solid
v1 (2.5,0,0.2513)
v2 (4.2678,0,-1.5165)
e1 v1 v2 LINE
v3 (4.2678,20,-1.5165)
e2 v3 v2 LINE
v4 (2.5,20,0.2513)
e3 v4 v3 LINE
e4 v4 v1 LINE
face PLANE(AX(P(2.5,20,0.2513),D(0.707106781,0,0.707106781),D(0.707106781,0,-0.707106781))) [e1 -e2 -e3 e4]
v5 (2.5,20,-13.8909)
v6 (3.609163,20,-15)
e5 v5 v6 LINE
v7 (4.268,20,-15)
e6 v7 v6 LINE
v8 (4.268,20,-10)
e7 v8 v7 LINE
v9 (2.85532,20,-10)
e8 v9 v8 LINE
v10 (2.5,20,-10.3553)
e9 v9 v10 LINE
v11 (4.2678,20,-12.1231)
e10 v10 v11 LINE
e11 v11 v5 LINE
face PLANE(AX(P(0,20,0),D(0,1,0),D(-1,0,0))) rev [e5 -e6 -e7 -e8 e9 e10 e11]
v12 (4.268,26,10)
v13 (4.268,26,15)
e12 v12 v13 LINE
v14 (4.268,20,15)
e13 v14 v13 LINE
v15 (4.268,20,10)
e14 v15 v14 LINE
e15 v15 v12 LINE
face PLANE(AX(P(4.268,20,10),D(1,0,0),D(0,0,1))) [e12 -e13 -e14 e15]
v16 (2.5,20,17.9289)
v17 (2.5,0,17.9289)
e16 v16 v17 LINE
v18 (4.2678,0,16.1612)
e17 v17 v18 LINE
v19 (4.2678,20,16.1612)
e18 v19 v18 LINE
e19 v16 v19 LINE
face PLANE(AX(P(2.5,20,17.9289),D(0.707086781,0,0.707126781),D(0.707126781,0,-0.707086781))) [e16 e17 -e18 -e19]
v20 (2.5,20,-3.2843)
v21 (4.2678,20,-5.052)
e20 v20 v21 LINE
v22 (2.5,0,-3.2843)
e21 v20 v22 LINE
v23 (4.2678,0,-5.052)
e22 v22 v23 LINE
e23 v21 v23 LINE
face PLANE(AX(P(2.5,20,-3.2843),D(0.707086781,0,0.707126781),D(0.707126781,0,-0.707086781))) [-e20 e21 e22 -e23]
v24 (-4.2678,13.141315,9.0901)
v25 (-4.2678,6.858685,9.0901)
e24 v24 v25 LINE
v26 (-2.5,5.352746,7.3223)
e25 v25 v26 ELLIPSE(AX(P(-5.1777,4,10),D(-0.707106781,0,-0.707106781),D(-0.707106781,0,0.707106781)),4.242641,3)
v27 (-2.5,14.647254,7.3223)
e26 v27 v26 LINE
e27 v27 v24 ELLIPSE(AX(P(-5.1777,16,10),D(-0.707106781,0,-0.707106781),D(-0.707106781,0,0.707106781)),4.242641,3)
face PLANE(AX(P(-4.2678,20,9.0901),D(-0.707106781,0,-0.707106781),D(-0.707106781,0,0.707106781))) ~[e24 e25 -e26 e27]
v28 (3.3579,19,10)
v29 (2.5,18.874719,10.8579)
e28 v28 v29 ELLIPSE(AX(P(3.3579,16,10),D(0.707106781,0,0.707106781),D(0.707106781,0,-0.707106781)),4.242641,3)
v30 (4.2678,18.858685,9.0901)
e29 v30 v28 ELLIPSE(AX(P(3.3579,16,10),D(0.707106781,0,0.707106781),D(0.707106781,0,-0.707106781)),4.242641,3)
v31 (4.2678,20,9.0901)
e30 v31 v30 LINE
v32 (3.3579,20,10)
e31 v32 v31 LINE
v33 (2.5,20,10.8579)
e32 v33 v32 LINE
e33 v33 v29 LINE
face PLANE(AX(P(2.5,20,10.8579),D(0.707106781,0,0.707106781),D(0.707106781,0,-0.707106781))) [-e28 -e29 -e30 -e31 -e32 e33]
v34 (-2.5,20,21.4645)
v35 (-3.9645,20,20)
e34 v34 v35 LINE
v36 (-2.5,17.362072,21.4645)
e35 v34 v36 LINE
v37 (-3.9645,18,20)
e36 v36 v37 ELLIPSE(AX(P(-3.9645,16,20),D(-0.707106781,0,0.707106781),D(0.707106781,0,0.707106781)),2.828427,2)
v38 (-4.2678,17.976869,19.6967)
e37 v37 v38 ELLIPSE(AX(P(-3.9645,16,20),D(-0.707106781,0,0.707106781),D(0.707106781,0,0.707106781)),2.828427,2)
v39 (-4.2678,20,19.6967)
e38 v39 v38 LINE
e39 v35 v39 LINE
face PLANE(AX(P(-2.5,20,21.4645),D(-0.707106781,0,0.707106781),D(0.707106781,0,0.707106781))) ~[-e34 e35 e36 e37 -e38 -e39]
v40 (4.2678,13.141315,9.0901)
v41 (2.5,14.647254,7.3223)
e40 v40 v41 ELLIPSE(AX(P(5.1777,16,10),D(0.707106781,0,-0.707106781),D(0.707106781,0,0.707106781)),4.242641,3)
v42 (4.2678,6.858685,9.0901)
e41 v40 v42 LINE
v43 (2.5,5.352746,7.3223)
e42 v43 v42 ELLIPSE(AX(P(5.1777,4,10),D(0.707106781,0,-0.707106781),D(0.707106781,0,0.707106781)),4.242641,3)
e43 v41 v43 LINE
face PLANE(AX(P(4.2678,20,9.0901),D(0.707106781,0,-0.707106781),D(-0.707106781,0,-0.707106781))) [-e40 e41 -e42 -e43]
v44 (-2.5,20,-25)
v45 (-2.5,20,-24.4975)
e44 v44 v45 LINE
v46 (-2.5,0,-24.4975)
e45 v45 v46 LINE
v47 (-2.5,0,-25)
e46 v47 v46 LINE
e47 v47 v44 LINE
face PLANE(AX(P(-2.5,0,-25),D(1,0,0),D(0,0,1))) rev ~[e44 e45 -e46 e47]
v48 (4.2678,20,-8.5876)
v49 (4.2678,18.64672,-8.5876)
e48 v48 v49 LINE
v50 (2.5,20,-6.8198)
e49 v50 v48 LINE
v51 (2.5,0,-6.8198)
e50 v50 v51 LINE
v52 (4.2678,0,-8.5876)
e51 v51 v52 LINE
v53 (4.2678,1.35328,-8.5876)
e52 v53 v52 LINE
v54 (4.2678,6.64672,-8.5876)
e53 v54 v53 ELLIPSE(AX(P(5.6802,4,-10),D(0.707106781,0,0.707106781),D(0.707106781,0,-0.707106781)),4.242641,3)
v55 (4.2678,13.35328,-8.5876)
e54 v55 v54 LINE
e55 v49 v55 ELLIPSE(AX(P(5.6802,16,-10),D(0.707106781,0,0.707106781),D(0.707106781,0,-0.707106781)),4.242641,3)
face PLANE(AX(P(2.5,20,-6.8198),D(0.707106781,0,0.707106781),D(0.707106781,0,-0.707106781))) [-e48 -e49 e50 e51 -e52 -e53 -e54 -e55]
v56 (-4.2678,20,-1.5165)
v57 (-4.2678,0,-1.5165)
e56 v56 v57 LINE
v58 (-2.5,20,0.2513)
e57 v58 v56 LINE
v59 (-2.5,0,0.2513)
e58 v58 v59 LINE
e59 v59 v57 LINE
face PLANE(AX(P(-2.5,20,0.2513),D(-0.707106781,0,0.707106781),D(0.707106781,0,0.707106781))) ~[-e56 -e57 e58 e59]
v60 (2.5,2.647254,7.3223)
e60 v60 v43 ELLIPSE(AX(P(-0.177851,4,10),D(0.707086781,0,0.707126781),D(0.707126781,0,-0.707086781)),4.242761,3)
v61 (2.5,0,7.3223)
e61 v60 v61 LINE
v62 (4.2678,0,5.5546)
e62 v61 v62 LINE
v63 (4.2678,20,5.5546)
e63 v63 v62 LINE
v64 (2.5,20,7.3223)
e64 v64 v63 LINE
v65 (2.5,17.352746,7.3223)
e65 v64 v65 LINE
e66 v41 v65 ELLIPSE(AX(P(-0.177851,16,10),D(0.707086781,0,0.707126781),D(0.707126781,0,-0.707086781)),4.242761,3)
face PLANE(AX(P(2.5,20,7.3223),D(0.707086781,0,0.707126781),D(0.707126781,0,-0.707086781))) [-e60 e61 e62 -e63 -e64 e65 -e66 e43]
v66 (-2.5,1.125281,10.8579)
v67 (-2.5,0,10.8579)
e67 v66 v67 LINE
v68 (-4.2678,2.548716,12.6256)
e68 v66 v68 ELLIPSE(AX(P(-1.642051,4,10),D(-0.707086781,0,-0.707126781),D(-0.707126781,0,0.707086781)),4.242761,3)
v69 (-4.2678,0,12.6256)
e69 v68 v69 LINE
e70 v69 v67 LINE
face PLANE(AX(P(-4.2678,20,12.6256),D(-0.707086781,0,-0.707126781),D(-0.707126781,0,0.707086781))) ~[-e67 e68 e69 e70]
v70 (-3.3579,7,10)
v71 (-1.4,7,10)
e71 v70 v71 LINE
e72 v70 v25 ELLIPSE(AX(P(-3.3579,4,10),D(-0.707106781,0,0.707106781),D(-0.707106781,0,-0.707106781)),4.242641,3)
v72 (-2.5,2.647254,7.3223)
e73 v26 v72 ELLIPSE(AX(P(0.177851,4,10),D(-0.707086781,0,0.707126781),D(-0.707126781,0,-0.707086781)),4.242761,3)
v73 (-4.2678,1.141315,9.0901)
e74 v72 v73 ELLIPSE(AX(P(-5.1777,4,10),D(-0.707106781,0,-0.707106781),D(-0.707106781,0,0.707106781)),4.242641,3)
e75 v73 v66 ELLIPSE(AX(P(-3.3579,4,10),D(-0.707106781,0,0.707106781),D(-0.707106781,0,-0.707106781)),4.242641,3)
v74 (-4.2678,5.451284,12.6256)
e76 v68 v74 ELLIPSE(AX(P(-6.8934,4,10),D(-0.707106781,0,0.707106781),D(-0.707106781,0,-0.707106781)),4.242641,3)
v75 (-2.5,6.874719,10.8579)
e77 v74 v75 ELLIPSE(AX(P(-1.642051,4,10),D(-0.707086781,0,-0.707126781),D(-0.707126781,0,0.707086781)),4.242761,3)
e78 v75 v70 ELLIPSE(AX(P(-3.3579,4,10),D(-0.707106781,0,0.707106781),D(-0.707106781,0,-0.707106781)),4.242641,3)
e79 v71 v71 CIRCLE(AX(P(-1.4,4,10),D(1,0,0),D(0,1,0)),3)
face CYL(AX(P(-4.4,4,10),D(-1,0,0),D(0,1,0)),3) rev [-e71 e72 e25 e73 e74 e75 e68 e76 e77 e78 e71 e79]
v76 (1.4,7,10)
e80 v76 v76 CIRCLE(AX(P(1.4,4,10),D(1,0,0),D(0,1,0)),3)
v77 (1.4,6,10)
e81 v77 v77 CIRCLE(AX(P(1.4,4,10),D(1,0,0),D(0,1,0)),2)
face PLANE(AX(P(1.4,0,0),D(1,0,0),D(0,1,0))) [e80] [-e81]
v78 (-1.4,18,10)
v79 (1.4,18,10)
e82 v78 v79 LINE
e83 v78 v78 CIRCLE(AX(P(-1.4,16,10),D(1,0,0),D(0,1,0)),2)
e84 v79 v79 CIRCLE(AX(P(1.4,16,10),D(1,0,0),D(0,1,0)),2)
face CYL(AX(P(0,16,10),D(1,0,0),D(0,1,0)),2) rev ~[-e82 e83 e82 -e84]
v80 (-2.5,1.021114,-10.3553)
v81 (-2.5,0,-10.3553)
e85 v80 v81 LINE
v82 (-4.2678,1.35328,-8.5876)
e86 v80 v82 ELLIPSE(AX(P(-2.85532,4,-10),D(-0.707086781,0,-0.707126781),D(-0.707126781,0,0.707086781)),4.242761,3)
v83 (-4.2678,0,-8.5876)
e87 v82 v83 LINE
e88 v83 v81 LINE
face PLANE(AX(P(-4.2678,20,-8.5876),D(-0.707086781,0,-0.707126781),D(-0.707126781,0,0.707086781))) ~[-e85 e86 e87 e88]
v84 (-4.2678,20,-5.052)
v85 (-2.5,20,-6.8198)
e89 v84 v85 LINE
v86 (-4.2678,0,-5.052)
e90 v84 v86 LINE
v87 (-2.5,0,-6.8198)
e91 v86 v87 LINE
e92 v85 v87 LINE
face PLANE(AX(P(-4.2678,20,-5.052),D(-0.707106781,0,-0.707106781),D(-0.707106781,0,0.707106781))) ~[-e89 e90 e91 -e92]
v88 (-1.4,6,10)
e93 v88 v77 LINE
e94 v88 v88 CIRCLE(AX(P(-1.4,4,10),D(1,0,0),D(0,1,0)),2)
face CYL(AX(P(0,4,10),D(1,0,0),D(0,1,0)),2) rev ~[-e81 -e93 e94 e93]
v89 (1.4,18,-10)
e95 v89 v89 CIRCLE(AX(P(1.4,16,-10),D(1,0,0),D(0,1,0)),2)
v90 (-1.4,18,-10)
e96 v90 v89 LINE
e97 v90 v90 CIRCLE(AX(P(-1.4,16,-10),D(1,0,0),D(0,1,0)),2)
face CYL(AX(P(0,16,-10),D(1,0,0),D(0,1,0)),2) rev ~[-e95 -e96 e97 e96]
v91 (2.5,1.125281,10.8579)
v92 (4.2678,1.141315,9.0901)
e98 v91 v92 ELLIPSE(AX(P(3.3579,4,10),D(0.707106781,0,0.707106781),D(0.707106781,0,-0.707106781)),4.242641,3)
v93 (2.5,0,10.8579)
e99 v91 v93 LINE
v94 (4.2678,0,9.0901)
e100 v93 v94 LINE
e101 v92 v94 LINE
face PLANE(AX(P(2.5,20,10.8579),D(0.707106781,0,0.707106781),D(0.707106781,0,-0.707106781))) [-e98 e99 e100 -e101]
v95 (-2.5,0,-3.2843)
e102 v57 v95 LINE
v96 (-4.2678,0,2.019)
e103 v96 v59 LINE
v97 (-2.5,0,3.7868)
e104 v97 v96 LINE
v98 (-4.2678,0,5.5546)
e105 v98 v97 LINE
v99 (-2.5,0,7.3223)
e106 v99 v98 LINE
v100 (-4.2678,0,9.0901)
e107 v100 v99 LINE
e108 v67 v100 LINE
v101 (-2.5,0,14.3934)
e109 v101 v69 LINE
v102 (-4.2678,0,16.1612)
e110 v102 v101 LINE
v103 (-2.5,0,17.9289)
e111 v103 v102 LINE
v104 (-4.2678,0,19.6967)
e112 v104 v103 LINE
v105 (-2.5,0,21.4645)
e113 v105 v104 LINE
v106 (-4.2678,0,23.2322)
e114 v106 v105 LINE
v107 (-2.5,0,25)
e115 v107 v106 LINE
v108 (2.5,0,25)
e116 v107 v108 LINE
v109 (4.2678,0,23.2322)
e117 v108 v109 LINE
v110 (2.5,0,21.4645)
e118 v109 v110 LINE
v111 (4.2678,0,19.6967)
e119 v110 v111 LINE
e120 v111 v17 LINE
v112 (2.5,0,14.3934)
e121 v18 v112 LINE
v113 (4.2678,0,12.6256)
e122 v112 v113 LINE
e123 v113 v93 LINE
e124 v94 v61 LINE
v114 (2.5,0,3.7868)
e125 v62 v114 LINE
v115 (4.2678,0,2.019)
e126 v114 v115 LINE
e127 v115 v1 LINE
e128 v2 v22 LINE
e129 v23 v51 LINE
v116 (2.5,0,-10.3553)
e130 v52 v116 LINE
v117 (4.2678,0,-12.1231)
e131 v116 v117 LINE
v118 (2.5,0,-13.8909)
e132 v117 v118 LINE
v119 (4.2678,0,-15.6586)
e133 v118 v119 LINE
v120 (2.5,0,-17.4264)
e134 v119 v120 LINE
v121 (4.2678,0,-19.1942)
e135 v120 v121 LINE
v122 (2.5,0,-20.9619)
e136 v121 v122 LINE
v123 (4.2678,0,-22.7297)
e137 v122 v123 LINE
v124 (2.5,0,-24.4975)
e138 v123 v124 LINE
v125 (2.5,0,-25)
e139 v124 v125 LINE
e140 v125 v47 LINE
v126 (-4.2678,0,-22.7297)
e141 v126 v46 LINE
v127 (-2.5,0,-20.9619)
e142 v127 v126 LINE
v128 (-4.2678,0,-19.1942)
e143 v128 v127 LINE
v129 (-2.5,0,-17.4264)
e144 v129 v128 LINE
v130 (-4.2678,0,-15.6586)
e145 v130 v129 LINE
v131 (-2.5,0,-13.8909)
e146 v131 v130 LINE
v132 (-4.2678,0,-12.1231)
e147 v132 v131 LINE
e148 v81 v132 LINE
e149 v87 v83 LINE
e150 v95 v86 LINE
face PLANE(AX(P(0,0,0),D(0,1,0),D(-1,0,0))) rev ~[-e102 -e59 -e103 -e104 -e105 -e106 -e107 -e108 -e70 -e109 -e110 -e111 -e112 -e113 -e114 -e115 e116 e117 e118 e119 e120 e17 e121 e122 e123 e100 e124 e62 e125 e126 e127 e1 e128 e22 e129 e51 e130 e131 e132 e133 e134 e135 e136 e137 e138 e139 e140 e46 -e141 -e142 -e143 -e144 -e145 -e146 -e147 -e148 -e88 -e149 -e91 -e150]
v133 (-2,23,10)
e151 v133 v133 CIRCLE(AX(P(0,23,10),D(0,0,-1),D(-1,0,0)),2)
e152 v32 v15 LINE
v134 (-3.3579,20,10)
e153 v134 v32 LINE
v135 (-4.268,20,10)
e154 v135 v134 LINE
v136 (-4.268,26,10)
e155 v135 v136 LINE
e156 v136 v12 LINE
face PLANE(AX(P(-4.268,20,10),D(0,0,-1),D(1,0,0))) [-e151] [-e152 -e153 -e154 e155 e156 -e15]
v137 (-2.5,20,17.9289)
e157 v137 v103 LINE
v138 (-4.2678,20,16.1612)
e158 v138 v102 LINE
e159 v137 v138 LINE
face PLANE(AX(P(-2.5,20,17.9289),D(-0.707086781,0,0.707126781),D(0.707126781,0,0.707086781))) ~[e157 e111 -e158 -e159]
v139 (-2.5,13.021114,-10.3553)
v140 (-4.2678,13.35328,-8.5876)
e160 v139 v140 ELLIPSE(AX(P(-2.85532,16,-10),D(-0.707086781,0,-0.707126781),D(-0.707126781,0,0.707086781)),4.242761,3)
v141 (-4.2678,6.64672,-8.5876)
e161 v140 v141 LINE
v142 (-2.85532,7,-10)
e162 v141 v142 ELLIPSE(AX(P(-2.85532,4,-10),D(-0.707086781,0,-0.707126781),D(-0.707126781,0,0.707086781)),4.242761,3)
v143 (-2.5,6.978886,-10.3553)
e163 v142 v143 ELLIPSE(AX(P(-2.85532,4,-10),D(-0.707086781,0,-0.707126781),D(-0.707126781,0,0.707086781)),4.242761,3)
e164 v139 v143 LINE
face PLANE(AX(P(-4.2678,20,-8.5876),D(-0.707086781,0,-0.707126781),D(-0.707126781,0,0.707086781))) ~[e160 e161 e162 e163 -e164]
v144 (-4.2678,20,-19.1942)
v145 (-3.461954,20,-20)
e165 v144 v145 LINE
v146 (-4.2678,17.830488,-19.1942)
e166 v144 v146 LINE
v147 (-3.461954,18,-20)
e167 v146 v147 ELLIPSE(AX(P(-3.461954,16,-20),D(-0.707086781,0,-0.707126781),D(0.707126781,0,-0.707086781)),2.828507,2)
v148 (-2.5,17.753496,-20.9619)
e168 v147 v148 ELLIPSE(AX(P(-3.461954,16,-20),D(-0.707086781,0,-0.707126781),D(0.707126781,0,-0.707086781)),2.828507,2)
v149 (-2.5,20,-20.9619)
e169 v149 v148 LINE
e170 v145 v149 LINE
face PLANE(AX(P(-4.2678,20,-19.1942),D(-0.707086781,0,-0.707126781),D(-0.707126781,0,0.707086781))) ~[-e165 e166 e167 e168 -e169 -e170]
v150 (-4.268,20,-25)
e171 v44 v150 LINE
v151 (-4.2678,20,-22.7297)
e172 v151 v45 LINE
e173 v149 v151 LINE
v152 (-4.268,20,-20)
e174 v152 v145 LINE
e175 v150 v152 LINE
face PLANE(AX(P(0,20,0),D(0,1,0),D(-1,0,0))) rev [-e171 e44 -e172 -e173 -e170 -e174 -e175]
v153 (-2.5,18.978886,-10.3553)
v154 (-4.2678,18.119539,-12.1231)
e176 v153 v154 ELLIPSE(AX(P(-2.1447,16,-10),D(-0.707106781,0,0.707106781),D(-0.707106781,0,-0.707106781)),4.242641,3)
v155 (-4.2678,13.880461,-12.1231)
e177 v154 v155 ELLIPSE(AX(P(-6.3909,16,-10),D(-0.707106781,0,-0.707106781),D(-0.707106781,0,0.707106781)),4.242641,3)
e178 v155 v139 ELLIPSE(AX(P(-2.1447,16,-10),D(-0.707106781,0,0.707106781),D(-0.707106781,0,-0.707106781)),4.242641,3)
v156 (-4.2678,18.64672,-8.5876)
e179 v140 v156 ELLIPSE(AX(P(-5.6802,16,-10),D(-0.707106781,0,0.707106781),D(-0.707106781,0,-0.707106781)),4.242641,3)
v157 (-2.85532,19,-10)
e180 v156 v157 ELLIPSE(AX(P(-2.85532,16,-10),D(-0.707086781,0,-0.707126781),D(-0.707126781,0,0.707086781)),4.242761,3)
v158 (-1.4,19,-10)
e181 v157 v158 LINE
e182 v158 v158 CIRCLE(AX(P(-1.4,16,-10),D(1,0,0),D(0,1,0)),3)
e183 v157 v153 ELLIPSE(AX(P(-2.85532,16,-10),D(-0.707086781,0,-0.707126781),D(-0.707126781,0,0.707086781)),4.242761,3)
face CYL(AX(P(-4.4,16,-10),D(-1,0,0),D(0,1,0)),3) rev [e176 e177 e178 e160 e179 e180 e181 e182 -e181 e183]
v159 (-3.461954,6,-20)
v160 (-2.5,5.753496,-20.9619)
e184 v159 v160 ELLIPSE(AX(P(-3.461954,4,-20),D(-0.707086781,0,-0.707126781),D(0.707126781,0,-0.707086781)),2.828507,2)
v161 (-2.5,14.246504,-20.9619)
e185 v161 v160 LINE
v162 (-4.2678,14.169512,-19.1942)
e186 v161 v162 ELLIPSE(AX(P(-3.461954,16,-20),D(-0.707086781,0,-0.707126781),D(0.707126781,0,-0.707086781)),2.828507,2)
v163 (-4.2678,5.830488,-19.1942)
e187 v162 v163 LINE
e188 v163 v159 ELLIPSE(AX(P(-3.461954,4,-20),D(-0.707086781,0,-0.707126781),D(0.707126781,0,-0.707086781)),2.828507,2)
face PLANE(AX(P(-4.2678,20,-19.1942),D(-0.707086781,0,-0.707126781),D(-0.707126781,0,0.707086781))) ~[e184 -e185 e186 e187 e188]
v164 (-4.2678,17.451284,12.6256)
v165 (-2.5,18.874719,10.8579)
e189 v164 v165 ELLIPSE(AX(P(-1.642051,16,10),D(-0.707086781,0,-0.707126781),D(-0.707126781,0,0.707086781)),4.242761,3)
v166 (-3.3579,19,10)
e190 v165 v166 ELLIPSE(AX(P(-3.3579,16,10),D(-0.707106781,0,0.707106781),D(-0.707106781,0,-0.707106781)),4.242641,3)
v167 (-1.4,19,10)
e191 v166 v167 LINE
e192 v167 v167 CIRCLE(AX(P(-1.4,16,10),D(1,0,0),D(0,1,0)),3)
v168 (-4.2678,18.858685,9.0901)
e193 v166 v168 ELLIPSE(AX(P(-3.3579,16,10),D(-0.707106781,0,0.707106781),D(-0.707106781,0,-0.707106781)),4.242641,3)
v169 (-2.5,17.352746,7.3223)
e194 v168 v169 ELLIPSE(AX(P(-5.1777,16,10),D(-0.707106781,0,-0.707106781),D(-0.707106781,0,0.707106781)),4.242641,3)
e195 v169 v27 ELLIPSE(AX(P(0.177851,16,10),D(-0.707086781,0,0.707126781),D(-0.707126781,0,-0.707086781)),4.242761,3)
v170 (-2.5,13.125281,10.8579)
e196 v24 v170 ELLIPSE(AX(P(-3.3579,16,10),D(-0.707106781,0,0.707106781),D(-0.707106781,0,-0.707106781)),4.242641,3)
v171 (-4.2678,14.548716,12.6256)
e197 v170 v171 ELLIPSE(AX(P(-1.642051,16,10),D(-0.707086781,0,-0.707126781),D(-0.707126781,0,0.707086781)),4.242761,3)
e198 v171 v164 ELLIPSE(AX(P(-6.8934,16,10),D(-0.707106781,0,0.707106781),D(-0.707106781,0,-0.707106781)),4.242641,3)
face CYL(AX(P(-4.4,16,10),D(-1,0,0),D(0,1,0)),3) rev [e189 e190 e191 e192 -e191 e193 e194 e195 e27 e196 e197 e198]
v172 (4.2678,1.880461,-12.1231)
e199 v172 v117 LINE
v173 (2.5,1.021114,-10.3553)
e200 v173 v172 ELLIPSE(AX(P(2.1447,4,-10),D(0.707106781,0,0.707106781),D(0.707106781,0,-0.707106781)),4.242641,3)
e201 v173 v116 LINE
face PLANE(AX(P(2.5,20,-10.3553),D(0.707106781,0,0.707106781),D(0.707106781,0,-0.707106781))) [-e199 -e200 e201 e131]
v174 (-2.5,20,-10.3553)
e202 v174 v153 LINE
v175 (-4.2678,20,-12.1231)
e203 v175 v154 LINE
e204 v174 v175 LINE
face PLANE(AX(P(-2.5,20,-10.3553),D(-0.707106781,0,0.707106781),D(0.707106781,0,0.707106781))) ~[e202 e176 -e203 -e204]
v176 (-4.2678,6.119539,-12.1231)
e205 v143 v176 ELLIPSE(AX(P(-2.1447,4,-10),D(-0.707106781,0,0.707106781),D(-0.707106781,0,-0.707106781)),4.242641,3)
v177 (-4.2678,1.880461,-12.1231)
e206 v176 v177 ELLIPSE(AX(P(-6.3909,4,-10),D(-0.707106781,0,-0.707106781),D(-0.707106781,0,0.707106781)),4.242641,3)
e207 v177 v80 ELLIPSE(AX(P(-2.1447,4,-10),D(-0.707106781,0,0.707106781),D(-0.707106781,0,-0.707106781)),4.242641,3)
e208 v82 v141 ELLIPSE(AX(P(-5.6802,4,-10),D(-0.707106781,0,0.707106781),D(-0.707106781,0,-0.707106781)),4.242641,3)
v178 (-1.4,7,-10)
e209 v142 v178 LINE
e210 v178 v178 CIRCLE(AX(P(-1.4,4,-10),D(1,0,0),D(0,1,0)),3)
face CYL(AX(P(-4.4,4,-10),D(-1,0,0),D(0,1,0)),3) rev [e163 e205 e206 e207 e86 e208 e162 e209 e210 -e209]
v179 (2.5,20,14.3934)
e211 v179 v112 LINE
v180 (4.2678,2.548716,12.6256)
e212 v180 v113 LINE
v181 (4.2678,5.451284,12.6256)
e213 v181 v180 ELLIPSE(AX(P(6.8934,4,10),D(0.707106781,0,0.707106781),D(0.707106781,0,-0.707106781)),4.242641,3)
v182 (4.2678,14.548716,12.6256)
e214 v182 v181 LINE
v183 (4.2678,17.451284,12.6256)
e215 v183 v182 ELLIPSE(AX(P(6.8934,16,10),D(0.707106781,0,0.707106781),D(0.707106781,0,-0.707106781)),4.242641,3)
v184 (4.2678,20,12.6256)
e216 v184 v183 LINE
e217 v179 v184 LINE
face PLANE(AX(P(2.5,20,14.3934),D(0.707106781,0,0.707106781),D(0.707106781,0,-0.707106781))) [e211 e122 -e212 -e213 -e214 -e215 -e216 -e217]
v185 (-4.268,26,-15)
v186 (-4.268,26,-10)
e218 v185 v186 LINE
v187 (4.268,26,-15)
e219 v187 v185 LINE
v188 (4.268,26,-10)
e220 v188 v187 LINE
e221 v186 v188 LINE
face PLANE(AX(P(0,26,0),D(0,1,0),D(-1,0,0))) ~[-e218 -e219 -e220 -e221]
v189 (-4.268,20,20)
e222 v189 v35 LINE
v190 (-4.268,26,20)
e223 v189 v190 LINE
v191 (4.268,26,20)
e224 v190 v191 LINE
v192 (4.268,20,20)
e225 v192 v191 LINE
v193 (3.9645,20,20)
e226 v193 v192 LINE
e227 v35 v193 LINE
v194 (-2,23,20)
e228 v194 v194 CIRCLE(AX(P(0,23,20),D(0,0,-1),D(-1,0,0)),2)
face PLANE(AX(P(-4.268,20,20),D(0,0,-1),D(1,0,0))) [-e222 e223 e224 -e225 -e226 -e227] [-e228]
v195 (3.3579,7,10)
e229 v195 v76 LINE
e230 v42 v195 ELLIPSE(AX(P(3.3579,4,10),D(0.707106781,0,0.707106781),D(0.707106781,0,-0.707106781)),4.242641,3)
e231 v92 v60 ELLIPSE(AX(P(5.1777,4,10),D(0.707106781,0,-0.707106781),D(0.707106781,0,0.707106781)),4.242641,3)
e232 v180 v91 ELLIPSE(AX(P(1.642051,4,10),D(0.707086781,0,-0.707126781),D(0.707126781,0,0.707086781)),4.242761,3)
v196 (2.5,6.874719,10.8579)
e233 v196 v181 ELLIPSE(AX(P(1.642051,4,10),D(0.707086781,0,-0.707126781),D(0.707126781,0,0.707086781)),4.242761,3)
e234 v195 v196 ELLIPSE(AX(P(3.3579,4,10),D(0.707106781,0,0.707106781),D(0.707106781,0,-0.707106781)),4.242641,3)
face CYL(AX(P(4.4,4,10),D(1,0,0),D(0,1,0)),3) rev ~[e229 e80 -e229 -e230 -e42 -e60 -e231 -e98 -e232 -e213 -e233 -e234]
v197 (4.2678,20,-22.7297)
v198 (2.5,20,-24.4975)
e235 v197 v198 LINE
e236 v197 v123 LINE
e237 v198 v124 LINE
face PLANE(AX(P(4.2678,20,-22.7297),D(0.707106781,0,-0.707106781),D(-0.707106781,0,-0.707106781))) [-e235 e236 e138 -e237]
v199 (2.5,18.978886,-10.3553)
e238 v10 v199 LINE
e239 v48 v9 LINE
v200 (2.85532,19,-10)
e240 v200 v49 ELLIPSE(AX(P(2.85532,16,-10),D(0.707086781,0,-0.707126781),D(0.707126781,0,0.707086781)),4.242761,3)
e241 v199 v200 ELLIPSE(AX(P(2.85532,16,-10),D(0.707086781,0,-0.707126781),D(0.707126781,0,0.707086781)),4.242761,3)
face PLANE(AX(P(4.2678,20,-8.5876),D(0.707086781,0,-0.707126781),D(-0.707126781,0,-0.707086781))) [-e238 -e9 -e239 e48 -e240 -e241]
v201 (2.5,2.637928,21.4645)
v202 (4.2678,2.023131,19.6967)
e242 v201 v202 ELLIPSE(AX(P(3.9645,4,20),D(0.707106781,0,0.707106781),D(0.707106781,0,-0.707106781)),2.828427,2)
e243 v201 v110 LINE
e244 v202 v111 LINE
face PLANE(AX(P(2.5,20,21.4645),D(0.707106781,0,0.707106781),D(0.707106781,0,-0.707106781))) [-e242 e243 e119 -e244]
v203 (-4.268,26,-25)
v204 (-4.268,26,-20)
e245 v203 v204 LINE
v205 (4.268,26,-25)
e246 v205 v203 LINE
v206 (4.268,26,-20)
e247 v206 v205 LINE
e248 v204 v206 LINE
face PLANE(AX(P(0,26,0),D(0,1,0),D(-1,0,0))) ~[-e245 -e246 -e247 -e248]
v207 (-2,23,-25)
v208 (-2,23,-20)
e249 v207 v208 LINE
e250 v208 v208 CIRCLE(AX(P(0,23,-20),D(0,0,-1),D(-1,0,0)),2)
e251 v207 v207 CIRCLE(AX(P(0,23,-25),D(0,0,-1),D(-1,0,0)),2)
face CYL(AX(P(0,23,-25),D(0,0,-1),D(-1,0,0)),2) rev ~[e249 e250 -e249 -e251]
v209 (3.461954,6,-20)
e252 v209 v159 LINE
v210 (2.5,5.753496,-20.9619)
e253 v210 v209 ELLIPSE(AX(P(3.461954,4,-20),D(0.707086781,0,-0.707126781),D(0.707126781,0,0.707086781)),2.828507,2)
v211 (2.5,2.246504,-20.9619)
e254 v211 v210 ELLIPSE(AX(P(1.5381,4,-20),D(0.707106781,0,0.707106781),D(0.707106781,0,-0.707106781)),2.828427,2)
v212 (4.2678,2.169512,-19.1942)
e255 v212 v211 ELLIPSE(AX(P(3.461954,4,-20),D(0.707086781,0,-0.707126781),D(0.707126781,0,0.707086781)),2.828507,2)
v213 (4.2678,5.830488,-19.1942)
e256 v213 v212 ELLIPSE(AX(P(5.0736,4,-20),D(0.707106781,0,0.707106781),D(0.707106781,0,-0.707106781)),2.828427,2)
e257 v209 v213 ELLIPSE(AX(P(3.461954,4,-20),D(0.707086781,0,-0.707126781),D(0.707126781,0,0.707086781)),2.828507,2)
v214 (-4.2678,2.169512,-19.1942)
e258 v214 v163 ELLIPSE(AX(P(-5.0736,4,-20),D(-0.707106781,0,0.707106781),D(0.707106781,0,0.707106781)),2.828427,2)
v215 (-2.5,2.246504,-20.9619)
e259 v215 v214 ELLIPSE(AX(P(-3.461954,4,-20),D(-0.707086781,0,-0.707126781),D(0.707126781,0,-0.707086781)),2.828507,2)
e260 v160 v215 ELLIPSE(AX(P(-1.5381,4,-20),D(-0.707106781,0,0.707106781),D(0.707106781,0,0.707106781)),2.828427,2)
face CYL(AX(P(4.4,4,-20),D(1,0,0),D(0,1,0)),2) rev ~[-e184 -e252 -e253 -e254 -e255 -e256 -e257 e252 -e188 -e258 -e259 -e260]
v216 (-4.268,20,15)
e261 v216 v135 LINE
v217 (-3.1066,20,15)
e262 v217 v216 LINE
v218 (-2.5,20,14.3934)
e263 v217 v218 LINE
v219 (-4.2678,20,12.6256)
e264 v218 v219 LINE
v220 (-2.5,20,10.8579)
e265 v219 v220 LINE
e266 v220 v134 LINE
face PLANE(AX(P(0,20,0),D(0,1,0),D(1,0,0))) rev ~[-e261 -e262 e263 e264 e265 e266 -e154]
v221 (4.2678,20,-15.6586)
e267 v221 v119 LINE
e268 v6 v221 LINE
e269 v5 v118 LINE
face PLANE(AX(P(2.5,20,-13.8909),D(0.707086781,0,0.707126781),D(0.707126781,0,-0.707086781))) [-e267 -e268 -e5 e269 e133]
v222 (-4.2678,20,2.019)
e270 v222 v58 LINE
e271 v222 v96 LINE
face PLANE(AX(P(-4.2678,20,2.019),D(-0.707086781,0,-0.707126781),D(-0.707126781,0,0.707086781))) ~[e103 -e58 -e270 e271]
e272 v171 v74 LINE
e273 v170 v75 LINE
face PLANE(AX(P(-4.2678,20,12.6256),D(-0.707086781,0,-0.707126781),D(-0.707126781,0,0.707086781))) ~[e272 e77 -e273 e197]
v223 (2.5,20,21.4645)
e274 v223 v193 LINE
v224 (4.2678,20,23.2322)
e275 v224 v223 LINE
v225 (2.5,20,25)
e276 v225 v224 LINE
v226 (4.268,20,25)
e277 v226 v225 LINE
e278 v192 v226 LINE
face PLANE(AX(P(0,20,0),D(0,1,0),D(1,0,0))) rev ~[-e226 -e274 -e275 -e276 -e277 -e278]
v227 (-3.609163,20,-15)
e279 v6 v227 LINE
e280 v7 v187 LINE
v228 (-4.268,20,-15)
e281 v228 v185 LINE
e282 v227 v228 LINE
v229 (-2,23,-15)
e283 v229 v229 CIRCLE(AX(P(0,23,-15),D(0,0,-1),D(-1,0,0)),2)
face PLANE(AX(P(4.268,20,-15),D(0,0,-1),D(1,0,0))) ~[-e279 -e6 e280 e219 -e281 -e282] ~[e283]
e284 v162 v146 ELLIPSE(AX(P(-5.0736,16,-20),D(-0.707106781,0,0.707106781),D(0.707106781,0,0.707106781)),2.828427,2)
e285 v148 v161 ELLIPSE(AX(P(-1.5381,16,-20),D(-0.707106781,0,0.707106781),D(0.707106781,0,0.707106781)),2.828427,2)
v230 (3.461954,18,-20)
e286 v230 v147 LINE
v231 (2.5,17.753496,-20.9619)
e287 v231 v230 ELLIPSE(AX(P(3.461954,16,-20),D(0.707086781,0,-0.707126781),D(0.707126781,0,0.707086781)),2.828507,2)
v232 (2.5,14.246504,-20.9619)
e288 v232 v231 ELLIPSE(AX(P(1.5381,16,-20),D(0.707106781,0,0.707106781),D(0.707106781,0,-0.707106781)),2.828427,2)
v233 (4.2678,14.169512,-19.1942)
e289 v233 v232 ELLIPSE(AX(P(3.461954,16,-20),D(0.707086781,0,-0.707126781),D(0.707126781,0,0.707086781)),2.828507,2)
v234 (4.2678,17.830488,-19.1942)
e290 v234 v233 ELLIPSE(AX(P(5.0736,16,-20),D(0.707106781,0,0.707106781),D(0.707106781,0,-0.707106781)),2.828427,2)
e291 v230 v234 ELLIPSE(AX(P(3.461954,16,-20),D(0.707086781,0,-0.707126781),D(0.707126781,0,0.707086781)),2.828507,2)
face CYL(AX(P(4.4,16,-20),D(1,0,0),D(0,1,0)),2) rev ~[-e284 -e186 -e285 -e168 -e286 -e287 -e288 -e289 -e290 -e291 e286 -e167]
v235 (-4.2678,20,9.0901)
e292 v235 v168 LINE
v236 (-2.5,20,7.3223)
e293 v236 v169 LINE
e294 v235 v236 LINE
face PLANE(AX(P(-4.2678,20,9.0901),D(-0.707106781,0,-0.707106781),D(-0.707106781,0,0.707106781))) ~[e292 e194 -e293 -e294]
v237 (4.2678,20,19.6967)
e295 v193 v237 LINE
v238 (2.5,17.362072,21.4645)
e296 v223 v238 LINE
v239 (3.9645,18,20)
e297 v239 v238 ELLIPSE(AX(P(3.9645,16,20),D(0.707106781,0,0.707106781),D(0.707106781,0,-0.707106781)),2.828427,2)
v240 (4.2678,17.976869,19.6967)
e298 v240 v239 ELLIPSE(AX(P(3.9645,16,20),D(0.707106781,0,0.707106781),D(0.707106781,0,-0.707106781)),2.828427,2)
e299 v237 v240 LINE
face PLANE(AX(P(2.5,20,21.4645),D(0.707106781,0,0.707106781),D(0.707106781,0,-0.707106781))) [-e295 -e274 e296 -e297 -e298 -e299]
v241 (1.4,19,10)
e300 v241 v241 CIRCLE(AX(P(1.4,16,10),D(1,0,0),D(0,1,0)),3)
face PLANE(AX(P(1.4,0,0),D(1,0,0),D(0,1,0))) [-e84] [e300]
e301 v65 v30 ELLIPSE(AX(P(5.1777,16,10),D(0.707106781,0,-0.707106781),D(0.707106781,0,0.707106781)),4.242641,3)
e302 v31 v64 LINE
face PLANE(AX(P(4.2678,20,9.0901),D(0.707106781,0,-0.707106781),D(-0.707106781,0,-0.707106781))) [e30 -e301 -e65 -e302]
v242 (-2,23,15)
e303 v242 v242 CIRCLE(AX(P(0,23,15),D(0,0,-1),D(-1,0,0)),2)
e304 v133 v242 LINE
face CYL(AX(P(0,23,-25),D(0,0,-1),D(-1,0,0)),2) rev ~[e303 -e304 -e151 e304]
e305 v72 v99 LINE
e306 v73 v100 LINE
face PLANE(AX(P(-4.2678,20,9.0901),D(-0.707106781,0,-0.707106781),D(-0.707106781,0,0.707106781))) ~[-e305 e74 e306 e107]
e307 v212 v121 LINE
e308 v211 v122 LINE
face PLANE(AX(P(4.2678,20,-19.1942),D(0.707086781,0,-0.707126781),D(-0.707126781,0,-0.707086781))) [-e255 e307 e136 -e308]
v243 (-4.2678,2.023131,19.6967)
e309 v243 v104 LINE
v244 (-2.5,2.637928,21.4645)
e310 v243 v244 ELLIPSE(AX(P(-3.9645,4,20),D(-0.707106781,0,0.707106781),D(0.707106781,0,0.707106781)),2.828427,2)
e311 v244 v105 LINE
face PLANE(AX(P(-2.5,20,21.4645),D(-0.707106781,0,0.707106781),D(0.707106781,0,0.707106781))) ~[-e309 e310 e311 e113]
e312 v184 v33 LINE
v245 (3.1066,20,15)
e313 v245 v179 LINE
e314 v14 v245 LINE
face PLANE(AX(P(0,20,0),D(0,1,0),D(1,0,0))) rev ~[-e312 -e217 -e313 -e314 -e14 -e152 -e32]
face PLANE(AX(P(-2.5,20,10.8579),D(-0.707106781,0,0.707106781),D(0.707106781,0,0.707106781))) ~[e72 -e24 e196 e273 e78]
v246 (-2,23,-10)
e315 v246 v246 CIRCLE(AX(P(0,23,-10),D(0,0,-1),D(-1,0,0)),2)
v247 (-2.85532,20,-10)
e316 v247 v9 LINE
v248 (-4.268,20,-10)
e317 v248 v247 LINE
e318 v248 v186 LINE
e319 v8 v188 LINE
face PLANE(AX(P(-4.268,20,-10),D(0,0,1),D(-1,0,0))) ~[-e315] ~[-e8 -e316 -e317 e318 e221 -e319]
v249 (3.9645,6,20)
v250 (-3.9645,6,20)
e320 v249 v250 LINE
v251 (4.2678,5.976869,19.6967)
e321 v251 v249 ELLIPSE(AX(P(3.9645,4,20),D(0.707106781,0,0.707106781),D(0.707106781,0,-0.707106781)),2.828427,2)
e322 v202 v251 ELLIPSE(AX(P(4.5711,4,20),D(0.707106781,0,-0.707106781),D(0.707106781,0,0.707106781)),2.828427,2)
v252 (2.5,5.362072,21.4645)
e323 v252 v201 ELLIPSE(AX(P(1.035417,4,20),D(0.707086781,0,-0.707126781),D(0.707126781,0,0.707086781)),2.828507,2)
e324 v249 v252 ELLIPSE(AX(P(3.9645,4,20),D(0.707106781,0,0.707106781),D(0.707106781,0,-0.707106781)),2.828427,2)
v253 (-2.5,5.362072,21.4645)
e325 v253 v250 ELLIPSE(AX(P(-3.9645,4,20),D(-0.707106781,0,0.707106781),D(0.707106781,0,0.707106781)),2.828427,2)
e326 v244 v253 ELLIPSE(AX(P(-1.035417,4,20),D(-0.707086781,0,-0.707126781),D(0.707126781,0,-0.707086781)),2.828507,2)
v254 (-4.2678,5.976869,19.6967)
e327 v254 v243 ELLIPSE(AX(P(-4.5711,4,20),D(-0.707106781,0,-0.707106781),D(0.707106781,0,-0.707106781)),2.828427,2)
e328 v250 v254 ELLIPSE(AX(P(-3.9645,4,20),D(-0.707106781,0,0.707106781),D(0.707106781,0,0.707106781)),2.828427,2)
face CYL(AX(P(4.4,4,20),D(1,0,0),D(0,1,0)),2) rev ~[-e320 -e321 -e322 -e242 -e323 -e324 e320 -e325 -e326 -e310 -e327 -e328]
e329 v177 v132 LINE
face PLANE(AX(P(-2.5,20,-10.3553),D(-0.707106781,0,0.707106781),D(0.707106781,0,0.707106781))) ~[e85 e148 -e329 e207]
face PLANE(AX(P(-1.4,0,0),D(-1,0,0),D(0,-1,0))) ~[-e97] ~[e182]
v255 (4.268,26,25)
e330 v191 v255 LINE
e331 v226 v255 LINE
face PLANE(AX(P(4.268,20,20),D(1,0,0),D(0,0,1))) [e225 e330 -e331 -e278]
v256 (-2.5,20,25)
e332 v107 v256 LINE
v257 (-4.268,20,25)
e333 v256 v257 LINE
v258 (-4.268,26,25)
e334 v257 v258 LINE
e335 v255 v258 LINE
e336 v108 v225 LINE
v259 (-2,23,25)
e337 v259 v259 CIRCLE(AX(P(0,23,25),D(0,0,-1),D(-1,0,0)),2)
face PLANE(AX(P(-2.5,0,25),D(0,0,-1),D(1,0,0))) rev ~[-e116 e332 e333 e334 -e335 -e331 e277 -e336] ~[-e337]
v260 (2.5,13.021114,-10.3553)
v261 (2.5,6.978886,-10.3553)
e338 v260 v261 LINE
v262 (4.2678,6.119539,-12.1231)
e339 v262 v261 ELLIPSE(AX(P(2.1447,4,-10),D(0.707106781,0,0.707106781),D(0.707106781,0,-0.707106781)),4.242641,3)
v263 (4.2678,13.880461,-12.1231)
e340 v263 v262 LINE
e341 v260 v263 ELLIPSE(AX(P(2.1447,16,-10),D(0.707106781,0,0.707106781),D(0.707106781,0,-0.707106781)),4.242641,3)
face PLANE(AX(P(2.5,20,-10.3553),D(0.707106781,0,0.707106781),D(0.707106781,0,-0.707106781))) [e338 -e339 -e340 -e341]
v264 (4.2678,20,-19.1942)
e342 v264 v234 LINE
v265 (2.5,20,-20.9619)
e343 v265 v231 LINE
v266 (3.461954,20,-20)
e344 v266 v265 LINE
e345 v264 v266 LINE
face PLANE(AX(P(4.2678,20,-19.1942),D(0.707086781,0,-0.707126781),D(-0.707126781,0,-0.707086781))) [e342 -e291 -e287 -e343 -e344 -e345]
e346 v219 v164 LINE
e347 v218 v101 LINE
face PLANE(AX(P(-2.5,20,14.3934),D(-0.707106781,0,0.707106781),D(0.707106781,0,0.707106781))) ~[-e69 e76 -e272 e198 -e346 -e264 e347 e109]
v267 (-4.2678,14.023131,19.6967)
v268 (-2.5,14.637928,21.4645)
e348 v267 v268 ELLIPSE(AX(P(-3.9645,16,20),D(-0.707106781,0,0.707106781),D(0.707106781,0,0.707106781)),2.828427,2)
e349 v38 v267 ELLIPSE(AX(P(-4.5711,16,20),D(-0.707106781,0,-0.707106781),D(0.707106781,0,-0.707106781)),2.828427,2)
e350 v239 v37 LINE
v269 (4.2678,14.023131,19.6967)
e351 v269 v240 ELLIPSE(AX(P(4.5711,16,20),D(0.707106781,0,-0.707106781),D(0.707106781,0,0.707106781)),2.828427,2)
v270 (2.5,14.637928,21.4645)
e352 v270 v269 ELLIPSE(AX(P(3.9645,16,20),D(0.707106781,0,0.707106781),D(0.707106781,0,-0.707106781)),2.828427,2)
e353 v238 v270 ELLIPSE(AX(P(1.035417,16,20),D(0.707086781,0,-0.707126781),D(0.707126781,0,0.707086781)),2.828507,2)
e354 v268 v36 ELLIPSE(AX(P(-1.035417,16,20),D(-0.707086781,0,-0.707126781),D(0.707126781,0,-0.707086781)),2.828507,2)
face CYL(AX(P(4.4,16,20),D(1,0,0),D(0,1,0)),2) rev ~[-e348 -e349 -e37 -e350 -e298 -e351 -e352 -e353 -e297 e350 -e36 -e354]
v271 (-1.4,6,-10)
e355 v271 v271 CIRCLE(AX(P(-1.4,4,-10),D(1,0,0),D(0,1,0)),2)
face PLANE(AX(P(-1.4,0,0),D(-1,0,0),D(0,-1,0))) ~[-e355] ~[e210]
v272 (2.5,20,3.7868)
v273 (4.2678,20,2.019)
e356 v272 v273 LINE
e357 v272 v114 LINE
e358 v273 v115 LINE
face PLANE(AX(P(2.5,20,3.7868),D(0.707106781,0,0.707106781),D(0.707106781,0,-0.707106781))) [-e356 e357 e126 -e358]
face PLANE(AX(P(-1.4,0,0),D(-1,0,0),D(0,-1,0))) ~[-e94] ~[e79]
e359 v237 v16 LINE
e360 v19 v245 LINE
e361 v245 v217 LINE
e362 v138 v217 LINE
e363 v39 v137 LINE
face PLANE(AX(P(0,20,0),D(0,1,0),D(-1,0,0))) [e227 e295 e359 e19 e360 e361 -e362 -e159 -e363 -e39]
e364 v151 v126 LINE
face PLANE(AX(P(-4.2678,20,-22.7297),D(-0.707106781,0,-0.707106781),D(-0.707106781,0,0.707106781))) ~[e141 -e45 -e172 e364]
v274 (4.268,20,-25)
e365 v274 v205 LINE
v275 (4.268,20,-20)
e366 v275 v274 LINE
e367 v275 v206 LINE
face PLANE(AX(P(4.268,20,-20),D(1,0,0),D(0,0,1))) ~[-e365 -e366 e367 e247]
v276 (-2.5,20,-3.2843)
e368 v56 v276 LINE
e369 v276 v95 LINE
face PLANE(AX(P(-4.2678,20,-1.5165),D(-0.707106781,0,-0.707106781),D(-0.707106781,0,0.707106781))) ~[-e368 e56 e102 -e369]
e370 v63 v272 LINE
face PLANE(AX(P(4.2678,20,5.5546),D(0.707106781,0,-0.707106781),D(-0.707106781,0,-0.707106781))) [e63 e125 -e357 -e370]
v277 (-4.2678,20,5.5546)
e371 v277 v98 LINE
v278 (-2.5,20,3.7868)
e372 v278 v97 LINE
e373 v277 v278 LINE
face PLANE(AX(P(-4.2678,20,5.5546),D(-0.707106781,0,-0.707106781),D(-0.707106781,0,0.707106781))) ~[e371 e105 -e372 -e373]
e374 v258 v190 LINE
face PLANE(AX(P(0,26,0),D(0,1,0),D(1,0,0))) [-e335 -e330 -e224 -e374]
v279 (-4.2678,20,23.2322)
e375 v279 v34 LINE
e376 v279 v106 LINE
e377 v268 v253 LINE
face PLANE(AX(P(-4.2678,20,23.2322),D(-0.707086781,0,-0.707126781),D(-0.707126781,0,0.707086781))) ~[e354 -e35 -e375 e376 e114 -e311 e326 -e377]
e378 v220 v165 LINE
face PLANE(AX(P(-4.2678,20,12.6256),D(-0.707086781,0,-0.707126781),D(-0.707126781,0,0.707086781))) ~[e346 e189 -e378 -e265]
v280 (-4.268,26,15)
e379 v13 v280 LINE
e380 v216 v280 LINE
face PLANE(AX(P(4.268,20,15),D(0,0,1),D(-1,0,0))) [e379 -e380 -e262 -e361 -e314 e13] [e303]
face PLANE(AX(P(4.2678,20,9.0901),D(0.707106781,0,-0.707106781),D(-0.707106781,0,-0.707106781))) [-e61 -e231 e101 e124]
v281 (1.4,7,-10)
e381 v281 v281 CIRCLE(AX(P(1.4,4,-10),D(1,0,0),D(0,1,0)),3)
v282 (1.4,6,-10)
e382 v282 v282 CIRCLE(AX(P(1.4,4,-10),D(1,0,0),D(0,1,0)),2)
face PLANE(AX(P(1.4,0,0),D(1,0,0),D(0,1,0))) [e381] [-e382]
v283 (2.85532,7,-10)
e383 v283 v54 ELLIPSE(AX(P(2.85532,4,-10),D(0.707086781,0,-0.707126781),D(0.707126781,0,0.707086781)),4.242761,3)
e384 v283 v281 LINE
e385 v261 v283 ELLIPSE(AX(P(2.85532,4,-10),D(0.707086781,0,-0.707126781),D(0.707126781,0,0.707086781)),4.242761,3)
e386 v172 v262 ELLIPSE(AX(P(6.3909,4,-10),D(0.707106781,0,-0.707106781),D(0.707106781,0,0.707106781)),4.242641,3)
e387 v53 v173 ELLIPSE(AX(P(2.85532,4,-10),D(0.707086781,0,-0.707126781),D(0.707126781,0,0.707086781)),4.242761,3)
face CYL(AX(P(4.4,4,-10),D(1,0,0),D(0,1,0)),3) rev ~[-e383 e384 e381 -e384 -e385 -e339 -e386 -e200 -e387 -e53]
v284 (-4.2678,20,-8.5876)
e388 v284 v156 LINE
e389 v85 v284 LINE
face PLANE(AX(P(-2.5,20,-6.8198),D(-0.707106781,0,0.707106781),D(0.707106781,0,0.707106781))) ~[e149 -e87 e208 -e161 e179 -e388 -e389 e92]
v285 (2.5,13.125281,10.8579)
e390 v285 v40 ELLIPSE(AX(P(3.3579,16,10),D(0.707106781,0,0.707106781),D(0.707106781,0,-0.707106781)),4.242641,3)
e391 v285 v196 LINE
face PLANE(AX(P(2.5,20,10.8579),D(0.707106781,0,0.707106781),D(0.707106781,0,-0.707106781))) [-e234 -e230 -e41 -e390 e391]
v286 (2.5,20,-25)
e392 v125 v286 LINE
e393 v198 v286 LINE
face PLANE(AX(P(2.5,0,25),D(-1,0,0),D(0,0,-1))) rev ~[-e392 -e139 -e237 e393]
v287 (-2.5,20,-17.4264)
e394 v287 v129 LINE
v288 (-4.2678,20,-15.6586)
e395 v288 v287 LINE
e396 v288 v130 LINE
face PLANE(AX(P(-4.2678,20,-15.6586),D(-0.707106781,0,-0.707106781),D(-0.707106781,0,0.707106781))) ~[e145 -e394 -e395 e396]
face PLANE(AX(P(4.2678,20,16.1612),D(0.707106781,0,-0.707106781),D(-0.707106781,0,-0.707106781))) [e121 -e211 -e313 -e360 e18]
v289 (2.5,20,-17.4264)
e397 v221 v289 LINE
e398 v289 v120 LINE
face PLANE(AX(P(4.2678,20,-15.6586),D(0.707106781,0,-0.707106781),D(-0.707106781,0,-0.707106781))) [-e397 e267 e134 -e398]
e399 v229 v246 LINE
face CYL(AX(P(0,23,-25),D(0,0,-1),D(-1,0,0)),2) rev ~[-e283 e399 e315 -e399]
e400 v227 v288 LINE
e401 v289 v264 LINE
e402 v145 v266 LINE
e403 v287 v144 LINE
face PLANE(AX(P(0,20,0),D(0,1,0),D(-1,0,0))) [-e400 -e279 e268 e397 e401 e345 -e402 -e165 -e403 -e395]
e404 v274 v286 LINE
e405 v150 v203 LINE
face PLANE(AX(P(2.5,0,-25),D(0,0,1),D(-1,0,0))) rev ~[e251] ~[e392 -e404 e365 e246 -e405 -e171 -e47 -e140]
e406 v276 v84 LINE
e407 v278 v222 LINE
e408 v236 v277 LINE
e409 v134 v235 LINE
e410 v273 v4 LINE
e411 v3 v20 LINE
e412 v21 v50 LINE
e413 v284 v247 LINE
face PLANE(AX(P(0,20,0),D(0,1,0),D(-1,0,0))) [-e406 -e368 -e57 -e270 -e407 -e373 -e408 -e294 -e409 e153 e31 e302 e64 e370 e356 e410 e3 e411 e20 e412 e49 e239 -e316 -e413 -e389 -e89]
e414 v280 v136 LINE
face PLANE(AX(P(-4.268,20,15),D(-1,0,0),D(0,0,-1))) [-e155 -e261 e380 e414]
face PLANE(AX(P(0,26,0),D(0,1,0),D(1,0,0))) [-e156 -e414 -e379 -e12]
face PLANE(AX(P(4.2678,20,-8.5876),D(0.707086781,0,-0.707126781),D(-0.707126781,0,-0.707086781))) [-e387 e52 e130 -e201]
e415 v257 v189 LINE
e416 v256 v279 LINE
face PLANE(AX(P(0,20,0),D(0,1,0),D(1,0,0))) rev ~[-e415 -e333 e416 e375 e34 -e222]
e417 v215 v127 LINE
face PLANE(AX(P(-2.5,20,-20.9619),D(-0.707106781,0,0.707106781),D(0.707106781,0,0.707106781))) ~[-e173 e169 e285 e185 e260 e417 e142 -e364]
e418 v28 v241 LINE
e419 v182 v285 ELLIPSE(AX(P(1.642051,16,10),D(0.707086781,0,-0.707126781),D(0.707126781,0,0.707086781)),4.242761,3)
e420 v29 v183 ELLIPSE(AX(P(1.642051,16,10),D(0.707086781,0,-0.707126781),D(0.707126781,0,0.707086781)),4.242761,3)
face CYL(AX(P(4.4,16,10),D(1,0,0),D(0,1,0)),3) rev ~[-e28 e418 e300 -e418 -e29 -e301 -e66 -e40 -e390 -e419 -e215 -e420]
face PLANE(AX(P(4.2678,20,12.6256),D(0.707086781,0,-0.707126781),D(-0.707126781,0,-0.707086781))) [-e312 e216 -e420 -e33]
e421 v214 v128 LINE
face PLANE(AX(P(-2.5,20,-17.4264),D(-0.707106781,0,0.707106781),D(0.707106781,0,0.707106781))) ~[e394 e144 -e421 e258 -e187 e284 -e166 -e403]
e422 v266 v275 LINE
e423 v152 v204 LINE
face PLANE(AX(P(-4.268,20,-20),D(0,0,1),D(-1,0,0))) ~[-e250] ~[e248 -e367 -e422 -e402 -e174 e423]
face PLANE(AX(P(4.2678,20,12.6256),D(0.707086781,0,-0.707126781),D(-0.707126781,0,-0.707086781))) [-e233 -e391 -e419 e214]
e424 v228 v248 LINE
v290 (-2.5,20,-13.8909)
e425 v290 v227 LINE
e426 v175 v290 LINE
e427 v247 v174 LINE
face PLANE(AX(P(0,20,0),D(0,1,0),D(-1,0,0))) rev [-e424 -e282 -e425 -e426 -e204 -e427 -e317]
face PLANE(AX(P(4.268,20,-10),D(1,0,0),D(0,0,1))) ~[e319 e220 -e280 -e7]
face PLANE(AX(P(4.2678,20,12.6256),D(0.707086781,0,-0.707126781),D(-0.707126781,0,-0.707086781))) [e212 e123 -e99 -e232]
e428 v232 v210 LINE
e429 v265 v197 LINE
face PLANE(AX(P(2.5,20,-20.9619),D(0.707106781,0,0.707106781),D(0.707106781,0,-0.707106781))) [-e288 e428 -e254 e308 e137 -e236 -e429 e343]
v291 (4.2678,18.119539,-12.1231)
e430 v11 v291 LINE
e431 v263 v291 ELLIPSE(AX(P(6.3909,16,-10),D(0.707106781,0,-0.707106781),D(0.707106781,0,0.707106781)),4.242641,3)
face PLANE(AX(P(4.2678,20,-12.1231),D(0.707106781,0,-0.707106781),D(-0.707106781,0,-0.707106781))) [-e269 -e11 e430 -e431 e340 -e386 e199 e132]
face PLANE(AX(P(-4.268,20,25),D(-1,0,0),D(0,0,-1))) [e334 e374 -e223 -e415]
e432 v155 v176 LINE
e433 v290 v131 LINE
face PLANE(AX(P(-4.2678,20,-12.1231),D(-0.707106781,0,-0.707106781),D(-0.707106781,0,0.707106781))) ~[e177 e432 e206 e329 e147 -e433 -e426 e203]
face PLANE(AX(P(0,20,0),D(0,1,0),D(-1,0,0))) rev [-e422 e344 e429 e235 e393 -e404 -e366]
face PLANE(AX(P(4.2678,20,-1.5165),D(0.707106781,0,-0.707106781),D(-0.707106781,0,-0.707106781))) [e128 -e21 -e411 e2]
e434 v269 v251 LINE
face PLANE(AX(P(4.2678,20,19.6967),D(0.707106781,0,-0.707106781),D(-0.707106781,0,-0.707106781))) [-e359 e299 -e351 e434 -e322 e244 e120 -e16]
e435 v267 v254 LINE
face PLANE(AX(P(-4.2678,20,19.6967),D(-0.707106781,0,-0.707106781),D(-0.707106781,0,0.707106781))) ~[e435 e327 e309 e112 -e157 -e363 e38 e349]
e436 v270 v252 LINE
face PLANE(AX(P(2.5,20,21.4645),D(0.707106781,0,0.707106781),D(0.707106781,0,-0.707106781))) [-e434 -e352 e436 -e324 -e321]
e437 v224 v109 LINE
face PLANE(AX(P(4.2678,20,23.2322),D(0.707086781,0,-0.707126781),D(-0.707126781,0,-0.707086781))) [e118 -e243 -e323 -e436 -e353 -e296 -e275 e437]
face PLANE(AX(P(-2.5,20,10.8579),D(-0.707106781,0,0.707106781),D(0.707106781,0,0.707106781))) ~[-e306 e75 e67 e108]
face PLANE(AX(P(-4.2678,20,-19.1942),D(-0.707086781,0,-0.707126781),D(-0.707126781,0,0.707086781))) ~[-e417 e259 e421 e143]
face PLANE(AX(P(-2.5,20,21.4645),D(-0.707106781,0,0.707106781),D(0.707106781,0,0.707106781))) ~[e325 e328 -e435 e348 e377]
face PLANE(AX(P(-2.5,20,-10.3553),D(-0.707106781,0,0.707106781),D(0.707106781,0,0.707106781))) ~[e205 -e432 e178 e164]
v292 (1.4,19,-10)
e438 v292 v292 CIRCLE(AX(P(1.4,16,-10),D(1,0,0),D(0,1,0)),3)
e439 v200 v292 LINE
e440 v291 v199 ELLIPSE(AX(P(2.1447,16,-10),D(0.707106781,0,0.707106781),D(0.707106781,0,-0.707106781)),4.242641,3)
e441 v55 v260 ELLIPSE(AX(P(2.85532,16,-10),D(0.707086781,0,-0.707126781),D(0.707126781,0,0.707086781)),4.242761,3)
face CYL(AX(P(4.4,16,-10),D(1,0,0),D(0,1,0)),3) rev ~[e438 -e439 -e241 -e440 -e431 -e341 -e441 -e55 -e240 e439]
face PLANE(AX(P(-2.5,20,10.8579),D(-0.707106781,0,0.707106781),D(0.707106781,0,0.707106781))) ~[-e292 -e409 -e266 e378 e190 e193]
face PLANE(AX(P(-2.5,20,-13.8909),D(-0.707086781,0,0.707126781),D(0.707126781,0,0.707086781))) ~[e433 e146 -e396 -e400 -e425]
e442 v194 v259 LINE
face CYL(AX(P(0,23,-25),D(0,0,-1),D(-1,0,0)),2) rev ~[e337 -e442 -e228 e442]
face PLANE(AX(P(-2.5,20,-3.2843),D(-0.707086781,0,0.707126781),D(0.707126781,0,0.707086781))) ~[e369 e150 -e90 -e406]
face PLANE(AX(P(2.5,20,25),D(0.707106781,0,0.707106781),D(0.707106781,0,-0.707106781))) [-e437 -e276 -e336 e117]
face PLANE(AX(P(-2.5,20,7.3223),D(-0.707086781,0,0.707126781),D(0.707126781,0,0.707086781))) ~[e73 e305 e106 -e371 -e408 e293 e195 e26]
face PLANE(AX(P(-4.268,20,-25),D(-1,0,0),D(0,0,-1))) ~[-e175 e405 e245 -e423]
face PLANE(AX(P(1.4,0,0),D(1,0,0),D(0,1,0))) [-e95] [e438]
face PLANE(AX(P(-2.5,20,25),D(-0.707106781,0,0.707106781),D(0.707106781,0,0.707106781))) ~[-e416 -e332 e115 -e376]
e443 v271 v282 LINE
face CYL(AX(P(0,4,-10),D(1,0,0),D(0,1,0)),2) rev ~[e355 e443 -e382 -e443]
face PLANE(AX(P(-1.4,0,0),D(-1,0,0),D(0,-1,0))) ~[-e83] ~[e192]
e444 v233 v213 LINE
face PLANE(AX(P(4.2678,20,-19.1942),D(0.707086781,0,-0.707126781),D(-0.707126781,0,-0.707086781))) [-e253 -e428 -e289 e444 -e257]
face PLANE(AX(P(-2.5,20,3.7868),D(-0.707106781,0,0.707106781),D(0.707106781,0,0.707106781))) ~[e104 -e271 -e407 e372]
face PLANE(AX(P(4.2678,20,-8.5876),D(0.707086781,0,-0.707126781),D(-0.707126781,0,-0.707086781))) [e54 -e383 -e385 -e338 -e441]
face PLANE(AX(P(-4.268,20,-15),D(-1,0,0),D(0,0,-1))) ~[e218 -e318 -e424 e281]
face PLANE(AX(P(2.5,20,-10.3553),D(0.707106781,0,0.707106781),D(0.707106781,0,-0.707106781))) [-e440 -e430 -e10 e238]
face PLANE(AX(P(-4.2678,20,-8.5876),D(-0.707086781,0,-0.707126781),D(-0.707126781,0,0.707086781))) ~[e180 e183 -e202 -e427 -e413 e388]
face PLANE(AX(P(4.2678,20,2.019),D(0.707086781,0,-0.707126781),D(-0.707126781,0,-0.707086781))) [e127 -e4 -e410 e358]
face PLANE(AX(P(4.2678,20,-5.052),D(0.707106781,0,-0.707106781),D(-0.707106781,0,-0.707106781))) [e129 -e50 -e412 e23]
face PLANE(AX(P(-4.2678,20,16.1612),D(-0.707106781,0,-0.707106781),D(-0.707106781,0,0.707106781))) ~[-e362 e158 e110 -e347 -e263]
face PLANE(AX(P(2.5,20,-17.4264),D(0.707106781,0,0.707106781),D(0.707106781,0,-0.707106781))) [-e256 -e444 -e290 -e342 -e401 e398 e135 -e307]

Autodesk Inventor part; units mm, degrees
ref_plane "XZ Plane" through (0, 0, 0) normal (0, 1, 0) x (-1, 0, 0)
ref_plane "XY Plane" through (0, 0, 0) normal (0, 0, 1) x (1, 0, 0)
sketch "Sketch1" plane through (0, 0, 0) normal (0, 1, 0) x (-1, 0, 0)
  line L0 (2.5, 25) -> (-2.5, 25)
  line L1 (-2.5, 25) -> (-2.5, -25)
  line L2 (-2.5, -25) -> (2.5, -25)
  line L3 (2.5, -25) -> (2.5, 25)
  point P0 (0, 0)
  dimension "d0" = 5
  dimension "d1" = 50
extrude "Extrusion1" add sketch "Sketch1" along normal blind 20
sketch "Sketch2" plane through (0, 20, 0) normal (0, 1, 0) x (1, 0, 0)
  line L0 (-2.5, -25) -> (2.5, -25) projected
  line L1 (2.5, -25) -> (4.2678, -23.2322)
  line L2 (2.5, -25) -> (5, -25) construction
  line L3 (4.2678, -23.2322) -> (2.5, -21.4645)
  line L4 (2.5, -25) -> (2.5, 25) projected
  line L5 (2.5, -21.4645) -> (4.2678, -19.6967)
  line L6 (4.2678, -19.6967) -> (2.5, -17.9289)
  line L7 (2.5, -17.9289) -> (4.2678, -16.1612)
  line L8 (4.2678, -16.1612) -> (2.5, -14.3934)
  line L9 (2.5, -14.3934) -> (4.2678, -12.6256)
  line L10 (4.2678, -12.6256) -> (2.5, -10.8579)
  line L11 (2.5, -10.8579) -> (4.2678, -9.0901)
  line L12 (4.2678, -9.0901) -> (2.5, -7.3223)
  line L13 (2.5, -7.3223) -> (4.2678, -5.5546)
  line L14 (4.2678, -5.5546) -> (2.5, -3.7868)
  line L15 (2.5, -3.7868) -> (4.2678, -2.019)
  line L16 (4.2678, -2.019) -> (2.5, -0.2513)
  line L17 (2.5, -0.2513) -> (4.2678, 1.5165)
  line L18 (4.2678, 1.5165) -> (2.5, 3.2843)
  line L19 (2.5, 3.2843) -> (4.2678, 5.052)
  line L20 (4.2678, 5.052) -> (2.5, 6.8198)
  line L21 (2.5, 6.8198) -> (4.2678, 8.5876)
  line L22 (4.2678, 8.5876) -> (2.5, 10.3553)
  line L23 (2.5, 10.3553) -> (4.2678, 12.1231)
  line L24 (4.2678, 12.1231) -> (2.5, 13.8909)
  line L25 (2.5, 13.8909) -> (4.2678, 15.6586)
  line L26 (4.2678, 15.6586) -> (2.5, 17.4264)
  line L27 (2.5, 17.4264) -> (4.2678, 19.1942)
  line L28 (4.2678, 19.1942) -> (2.5, 20.9619)
  line L29 (2.5, 20.9619) -> (4.2678, 22.7297)
  line L30 (4.2678, 22.7297) -> (2.5, 24.4975)
  line L31 (2.5, 24.4975) -> (2.5, -25)
  point P0 (0, 0)
  dimension "d4" = 2.5
  dimension "d5" = 45
extrude "Extrusion2" add sketch "Sketch2" against normal blind 20
mirror "Mirror1" about plane through (0, 0, 0) normal (1, 0, 0) of "Extrusion2"
sketch "Sketch3" plane through (0, 0, 0) normal (1, 0, 0) x (0, 1, 0)
  circle A0 centre (4, 10) radius 2
  circle A1 centre (4, -10) radius 2
  circle A2 centre (16, 10) radius 2
  circle A3 centre (16, -10) radius 2
  point P0 (0, 0)
  dimension "d8" = 4
  dimension "d9" = 4
  dimension "d10" = 4
  dimension "d11" = 4
extrude "Extrusion3" cut sketch "Sketch3" against normal mid plane 30
ref_plane "Work Plane1" through (4.4, 0, 0) normal (1, 0, 0) x (0, 1, 0)
sketch "Sketch4" plane through (4.4, 0, 0) normal (1, 0, 0) x (0, 1, 0)
  arc A0 (14.219, 9.0901) -> (17.781, 9.0901) centre (16, 10) ccw projected
  circle A1 centre (16, 10) radius 3
  arc A2 (2.219, 9.0901) -> (5.781, 9.0901) centre (4, 10) ccw projected
  circle A3 centre (4, 10) radius 3
  arc A4 (14.0318, -10.3553) -> (17.9682, -10.3553) centre (16, -10) ccw projected
  circle A5 centre (16, -10) radius 3
  arc A6 (5.416, -8.5876) -> (2.584, -8.5876) centre (4, -10) ccw projected
  circle A7 centre (4, -10) radius 3
  point P0 (0, 0)
  dimension "d15" = 6
  dimension "d16" = 6
  dimension "d17" = 6
  dimension "d18" = 6
extrude "Extrusion4" cut sketch "Sketch4" against normal blind 3
mirror "Mirror2" about plane through (0, 0, 0) normal (1, 0, 0) of "Extrusion4"
sketch "Sketch5" plane through (4.4, 0, 0) normal (1, 0, 0) x (0, 1, 0)
  circle A0 centre (16, 20) radius 2
  circle A1 centre (16, -20) radius 2
  circle A2 centre (4, -20) radius 2
  circle A3 centre (4, 20) radius 2
  point P0 (0, 0)
  dimension "d21" = 4
  dimension "d22" = 4
  dimension "d23" = 4
  dimension "d24" = 4
extrude "Extrusion5" cut sketch "Sketch5" against normal blind 20
sketch "Sketch6" plane through (0, 20, 0) normal (0, 1, 0) x (1, 0, 0)
  line L0 (4.268, -25) -> (-4.268, -25)
  line L1 (-4.268, -25) -> (-4.268, -20)
  line L2 (-4.268, -20) -> (4.268, -20)
  line L3 (4.268, -20) -> (4.268, -25)
  line L4 (4.268, -15) -> (-4.268, -15)
  line L5 (-4.268, -15) -> (-4.268, -10)
  line L6 (-4.268, -10) -> (4.268, -10)
  line L7 (4.268, -10) -> (4.268, -15)
  point P0 (0, 0)
  dimension "d27" = 8.536
  dimension "d28" = 5
  dimension "d29" = 8.536
  dimension "d30" = 5
extrude "Extrusion6" add sketch "Sketch6" along normal blind 6
mirror "Mirror3" about plane through (0, 0, 0) normal (0, 0, 1) of "Extrusion6"
sketch "Sketch7" plane through (2.5, 0, -25) normal (0, 0, -1) x (-1, 0, 0)
  circle A0 centre (2.5, 23) radius 2
  point P0 (2.5, 0)
  dimension "d33" = 4
extrude "Extrusion7" cut sketch "Sketch7" against normal blind 50
properties part number "beltTensionerMid"
